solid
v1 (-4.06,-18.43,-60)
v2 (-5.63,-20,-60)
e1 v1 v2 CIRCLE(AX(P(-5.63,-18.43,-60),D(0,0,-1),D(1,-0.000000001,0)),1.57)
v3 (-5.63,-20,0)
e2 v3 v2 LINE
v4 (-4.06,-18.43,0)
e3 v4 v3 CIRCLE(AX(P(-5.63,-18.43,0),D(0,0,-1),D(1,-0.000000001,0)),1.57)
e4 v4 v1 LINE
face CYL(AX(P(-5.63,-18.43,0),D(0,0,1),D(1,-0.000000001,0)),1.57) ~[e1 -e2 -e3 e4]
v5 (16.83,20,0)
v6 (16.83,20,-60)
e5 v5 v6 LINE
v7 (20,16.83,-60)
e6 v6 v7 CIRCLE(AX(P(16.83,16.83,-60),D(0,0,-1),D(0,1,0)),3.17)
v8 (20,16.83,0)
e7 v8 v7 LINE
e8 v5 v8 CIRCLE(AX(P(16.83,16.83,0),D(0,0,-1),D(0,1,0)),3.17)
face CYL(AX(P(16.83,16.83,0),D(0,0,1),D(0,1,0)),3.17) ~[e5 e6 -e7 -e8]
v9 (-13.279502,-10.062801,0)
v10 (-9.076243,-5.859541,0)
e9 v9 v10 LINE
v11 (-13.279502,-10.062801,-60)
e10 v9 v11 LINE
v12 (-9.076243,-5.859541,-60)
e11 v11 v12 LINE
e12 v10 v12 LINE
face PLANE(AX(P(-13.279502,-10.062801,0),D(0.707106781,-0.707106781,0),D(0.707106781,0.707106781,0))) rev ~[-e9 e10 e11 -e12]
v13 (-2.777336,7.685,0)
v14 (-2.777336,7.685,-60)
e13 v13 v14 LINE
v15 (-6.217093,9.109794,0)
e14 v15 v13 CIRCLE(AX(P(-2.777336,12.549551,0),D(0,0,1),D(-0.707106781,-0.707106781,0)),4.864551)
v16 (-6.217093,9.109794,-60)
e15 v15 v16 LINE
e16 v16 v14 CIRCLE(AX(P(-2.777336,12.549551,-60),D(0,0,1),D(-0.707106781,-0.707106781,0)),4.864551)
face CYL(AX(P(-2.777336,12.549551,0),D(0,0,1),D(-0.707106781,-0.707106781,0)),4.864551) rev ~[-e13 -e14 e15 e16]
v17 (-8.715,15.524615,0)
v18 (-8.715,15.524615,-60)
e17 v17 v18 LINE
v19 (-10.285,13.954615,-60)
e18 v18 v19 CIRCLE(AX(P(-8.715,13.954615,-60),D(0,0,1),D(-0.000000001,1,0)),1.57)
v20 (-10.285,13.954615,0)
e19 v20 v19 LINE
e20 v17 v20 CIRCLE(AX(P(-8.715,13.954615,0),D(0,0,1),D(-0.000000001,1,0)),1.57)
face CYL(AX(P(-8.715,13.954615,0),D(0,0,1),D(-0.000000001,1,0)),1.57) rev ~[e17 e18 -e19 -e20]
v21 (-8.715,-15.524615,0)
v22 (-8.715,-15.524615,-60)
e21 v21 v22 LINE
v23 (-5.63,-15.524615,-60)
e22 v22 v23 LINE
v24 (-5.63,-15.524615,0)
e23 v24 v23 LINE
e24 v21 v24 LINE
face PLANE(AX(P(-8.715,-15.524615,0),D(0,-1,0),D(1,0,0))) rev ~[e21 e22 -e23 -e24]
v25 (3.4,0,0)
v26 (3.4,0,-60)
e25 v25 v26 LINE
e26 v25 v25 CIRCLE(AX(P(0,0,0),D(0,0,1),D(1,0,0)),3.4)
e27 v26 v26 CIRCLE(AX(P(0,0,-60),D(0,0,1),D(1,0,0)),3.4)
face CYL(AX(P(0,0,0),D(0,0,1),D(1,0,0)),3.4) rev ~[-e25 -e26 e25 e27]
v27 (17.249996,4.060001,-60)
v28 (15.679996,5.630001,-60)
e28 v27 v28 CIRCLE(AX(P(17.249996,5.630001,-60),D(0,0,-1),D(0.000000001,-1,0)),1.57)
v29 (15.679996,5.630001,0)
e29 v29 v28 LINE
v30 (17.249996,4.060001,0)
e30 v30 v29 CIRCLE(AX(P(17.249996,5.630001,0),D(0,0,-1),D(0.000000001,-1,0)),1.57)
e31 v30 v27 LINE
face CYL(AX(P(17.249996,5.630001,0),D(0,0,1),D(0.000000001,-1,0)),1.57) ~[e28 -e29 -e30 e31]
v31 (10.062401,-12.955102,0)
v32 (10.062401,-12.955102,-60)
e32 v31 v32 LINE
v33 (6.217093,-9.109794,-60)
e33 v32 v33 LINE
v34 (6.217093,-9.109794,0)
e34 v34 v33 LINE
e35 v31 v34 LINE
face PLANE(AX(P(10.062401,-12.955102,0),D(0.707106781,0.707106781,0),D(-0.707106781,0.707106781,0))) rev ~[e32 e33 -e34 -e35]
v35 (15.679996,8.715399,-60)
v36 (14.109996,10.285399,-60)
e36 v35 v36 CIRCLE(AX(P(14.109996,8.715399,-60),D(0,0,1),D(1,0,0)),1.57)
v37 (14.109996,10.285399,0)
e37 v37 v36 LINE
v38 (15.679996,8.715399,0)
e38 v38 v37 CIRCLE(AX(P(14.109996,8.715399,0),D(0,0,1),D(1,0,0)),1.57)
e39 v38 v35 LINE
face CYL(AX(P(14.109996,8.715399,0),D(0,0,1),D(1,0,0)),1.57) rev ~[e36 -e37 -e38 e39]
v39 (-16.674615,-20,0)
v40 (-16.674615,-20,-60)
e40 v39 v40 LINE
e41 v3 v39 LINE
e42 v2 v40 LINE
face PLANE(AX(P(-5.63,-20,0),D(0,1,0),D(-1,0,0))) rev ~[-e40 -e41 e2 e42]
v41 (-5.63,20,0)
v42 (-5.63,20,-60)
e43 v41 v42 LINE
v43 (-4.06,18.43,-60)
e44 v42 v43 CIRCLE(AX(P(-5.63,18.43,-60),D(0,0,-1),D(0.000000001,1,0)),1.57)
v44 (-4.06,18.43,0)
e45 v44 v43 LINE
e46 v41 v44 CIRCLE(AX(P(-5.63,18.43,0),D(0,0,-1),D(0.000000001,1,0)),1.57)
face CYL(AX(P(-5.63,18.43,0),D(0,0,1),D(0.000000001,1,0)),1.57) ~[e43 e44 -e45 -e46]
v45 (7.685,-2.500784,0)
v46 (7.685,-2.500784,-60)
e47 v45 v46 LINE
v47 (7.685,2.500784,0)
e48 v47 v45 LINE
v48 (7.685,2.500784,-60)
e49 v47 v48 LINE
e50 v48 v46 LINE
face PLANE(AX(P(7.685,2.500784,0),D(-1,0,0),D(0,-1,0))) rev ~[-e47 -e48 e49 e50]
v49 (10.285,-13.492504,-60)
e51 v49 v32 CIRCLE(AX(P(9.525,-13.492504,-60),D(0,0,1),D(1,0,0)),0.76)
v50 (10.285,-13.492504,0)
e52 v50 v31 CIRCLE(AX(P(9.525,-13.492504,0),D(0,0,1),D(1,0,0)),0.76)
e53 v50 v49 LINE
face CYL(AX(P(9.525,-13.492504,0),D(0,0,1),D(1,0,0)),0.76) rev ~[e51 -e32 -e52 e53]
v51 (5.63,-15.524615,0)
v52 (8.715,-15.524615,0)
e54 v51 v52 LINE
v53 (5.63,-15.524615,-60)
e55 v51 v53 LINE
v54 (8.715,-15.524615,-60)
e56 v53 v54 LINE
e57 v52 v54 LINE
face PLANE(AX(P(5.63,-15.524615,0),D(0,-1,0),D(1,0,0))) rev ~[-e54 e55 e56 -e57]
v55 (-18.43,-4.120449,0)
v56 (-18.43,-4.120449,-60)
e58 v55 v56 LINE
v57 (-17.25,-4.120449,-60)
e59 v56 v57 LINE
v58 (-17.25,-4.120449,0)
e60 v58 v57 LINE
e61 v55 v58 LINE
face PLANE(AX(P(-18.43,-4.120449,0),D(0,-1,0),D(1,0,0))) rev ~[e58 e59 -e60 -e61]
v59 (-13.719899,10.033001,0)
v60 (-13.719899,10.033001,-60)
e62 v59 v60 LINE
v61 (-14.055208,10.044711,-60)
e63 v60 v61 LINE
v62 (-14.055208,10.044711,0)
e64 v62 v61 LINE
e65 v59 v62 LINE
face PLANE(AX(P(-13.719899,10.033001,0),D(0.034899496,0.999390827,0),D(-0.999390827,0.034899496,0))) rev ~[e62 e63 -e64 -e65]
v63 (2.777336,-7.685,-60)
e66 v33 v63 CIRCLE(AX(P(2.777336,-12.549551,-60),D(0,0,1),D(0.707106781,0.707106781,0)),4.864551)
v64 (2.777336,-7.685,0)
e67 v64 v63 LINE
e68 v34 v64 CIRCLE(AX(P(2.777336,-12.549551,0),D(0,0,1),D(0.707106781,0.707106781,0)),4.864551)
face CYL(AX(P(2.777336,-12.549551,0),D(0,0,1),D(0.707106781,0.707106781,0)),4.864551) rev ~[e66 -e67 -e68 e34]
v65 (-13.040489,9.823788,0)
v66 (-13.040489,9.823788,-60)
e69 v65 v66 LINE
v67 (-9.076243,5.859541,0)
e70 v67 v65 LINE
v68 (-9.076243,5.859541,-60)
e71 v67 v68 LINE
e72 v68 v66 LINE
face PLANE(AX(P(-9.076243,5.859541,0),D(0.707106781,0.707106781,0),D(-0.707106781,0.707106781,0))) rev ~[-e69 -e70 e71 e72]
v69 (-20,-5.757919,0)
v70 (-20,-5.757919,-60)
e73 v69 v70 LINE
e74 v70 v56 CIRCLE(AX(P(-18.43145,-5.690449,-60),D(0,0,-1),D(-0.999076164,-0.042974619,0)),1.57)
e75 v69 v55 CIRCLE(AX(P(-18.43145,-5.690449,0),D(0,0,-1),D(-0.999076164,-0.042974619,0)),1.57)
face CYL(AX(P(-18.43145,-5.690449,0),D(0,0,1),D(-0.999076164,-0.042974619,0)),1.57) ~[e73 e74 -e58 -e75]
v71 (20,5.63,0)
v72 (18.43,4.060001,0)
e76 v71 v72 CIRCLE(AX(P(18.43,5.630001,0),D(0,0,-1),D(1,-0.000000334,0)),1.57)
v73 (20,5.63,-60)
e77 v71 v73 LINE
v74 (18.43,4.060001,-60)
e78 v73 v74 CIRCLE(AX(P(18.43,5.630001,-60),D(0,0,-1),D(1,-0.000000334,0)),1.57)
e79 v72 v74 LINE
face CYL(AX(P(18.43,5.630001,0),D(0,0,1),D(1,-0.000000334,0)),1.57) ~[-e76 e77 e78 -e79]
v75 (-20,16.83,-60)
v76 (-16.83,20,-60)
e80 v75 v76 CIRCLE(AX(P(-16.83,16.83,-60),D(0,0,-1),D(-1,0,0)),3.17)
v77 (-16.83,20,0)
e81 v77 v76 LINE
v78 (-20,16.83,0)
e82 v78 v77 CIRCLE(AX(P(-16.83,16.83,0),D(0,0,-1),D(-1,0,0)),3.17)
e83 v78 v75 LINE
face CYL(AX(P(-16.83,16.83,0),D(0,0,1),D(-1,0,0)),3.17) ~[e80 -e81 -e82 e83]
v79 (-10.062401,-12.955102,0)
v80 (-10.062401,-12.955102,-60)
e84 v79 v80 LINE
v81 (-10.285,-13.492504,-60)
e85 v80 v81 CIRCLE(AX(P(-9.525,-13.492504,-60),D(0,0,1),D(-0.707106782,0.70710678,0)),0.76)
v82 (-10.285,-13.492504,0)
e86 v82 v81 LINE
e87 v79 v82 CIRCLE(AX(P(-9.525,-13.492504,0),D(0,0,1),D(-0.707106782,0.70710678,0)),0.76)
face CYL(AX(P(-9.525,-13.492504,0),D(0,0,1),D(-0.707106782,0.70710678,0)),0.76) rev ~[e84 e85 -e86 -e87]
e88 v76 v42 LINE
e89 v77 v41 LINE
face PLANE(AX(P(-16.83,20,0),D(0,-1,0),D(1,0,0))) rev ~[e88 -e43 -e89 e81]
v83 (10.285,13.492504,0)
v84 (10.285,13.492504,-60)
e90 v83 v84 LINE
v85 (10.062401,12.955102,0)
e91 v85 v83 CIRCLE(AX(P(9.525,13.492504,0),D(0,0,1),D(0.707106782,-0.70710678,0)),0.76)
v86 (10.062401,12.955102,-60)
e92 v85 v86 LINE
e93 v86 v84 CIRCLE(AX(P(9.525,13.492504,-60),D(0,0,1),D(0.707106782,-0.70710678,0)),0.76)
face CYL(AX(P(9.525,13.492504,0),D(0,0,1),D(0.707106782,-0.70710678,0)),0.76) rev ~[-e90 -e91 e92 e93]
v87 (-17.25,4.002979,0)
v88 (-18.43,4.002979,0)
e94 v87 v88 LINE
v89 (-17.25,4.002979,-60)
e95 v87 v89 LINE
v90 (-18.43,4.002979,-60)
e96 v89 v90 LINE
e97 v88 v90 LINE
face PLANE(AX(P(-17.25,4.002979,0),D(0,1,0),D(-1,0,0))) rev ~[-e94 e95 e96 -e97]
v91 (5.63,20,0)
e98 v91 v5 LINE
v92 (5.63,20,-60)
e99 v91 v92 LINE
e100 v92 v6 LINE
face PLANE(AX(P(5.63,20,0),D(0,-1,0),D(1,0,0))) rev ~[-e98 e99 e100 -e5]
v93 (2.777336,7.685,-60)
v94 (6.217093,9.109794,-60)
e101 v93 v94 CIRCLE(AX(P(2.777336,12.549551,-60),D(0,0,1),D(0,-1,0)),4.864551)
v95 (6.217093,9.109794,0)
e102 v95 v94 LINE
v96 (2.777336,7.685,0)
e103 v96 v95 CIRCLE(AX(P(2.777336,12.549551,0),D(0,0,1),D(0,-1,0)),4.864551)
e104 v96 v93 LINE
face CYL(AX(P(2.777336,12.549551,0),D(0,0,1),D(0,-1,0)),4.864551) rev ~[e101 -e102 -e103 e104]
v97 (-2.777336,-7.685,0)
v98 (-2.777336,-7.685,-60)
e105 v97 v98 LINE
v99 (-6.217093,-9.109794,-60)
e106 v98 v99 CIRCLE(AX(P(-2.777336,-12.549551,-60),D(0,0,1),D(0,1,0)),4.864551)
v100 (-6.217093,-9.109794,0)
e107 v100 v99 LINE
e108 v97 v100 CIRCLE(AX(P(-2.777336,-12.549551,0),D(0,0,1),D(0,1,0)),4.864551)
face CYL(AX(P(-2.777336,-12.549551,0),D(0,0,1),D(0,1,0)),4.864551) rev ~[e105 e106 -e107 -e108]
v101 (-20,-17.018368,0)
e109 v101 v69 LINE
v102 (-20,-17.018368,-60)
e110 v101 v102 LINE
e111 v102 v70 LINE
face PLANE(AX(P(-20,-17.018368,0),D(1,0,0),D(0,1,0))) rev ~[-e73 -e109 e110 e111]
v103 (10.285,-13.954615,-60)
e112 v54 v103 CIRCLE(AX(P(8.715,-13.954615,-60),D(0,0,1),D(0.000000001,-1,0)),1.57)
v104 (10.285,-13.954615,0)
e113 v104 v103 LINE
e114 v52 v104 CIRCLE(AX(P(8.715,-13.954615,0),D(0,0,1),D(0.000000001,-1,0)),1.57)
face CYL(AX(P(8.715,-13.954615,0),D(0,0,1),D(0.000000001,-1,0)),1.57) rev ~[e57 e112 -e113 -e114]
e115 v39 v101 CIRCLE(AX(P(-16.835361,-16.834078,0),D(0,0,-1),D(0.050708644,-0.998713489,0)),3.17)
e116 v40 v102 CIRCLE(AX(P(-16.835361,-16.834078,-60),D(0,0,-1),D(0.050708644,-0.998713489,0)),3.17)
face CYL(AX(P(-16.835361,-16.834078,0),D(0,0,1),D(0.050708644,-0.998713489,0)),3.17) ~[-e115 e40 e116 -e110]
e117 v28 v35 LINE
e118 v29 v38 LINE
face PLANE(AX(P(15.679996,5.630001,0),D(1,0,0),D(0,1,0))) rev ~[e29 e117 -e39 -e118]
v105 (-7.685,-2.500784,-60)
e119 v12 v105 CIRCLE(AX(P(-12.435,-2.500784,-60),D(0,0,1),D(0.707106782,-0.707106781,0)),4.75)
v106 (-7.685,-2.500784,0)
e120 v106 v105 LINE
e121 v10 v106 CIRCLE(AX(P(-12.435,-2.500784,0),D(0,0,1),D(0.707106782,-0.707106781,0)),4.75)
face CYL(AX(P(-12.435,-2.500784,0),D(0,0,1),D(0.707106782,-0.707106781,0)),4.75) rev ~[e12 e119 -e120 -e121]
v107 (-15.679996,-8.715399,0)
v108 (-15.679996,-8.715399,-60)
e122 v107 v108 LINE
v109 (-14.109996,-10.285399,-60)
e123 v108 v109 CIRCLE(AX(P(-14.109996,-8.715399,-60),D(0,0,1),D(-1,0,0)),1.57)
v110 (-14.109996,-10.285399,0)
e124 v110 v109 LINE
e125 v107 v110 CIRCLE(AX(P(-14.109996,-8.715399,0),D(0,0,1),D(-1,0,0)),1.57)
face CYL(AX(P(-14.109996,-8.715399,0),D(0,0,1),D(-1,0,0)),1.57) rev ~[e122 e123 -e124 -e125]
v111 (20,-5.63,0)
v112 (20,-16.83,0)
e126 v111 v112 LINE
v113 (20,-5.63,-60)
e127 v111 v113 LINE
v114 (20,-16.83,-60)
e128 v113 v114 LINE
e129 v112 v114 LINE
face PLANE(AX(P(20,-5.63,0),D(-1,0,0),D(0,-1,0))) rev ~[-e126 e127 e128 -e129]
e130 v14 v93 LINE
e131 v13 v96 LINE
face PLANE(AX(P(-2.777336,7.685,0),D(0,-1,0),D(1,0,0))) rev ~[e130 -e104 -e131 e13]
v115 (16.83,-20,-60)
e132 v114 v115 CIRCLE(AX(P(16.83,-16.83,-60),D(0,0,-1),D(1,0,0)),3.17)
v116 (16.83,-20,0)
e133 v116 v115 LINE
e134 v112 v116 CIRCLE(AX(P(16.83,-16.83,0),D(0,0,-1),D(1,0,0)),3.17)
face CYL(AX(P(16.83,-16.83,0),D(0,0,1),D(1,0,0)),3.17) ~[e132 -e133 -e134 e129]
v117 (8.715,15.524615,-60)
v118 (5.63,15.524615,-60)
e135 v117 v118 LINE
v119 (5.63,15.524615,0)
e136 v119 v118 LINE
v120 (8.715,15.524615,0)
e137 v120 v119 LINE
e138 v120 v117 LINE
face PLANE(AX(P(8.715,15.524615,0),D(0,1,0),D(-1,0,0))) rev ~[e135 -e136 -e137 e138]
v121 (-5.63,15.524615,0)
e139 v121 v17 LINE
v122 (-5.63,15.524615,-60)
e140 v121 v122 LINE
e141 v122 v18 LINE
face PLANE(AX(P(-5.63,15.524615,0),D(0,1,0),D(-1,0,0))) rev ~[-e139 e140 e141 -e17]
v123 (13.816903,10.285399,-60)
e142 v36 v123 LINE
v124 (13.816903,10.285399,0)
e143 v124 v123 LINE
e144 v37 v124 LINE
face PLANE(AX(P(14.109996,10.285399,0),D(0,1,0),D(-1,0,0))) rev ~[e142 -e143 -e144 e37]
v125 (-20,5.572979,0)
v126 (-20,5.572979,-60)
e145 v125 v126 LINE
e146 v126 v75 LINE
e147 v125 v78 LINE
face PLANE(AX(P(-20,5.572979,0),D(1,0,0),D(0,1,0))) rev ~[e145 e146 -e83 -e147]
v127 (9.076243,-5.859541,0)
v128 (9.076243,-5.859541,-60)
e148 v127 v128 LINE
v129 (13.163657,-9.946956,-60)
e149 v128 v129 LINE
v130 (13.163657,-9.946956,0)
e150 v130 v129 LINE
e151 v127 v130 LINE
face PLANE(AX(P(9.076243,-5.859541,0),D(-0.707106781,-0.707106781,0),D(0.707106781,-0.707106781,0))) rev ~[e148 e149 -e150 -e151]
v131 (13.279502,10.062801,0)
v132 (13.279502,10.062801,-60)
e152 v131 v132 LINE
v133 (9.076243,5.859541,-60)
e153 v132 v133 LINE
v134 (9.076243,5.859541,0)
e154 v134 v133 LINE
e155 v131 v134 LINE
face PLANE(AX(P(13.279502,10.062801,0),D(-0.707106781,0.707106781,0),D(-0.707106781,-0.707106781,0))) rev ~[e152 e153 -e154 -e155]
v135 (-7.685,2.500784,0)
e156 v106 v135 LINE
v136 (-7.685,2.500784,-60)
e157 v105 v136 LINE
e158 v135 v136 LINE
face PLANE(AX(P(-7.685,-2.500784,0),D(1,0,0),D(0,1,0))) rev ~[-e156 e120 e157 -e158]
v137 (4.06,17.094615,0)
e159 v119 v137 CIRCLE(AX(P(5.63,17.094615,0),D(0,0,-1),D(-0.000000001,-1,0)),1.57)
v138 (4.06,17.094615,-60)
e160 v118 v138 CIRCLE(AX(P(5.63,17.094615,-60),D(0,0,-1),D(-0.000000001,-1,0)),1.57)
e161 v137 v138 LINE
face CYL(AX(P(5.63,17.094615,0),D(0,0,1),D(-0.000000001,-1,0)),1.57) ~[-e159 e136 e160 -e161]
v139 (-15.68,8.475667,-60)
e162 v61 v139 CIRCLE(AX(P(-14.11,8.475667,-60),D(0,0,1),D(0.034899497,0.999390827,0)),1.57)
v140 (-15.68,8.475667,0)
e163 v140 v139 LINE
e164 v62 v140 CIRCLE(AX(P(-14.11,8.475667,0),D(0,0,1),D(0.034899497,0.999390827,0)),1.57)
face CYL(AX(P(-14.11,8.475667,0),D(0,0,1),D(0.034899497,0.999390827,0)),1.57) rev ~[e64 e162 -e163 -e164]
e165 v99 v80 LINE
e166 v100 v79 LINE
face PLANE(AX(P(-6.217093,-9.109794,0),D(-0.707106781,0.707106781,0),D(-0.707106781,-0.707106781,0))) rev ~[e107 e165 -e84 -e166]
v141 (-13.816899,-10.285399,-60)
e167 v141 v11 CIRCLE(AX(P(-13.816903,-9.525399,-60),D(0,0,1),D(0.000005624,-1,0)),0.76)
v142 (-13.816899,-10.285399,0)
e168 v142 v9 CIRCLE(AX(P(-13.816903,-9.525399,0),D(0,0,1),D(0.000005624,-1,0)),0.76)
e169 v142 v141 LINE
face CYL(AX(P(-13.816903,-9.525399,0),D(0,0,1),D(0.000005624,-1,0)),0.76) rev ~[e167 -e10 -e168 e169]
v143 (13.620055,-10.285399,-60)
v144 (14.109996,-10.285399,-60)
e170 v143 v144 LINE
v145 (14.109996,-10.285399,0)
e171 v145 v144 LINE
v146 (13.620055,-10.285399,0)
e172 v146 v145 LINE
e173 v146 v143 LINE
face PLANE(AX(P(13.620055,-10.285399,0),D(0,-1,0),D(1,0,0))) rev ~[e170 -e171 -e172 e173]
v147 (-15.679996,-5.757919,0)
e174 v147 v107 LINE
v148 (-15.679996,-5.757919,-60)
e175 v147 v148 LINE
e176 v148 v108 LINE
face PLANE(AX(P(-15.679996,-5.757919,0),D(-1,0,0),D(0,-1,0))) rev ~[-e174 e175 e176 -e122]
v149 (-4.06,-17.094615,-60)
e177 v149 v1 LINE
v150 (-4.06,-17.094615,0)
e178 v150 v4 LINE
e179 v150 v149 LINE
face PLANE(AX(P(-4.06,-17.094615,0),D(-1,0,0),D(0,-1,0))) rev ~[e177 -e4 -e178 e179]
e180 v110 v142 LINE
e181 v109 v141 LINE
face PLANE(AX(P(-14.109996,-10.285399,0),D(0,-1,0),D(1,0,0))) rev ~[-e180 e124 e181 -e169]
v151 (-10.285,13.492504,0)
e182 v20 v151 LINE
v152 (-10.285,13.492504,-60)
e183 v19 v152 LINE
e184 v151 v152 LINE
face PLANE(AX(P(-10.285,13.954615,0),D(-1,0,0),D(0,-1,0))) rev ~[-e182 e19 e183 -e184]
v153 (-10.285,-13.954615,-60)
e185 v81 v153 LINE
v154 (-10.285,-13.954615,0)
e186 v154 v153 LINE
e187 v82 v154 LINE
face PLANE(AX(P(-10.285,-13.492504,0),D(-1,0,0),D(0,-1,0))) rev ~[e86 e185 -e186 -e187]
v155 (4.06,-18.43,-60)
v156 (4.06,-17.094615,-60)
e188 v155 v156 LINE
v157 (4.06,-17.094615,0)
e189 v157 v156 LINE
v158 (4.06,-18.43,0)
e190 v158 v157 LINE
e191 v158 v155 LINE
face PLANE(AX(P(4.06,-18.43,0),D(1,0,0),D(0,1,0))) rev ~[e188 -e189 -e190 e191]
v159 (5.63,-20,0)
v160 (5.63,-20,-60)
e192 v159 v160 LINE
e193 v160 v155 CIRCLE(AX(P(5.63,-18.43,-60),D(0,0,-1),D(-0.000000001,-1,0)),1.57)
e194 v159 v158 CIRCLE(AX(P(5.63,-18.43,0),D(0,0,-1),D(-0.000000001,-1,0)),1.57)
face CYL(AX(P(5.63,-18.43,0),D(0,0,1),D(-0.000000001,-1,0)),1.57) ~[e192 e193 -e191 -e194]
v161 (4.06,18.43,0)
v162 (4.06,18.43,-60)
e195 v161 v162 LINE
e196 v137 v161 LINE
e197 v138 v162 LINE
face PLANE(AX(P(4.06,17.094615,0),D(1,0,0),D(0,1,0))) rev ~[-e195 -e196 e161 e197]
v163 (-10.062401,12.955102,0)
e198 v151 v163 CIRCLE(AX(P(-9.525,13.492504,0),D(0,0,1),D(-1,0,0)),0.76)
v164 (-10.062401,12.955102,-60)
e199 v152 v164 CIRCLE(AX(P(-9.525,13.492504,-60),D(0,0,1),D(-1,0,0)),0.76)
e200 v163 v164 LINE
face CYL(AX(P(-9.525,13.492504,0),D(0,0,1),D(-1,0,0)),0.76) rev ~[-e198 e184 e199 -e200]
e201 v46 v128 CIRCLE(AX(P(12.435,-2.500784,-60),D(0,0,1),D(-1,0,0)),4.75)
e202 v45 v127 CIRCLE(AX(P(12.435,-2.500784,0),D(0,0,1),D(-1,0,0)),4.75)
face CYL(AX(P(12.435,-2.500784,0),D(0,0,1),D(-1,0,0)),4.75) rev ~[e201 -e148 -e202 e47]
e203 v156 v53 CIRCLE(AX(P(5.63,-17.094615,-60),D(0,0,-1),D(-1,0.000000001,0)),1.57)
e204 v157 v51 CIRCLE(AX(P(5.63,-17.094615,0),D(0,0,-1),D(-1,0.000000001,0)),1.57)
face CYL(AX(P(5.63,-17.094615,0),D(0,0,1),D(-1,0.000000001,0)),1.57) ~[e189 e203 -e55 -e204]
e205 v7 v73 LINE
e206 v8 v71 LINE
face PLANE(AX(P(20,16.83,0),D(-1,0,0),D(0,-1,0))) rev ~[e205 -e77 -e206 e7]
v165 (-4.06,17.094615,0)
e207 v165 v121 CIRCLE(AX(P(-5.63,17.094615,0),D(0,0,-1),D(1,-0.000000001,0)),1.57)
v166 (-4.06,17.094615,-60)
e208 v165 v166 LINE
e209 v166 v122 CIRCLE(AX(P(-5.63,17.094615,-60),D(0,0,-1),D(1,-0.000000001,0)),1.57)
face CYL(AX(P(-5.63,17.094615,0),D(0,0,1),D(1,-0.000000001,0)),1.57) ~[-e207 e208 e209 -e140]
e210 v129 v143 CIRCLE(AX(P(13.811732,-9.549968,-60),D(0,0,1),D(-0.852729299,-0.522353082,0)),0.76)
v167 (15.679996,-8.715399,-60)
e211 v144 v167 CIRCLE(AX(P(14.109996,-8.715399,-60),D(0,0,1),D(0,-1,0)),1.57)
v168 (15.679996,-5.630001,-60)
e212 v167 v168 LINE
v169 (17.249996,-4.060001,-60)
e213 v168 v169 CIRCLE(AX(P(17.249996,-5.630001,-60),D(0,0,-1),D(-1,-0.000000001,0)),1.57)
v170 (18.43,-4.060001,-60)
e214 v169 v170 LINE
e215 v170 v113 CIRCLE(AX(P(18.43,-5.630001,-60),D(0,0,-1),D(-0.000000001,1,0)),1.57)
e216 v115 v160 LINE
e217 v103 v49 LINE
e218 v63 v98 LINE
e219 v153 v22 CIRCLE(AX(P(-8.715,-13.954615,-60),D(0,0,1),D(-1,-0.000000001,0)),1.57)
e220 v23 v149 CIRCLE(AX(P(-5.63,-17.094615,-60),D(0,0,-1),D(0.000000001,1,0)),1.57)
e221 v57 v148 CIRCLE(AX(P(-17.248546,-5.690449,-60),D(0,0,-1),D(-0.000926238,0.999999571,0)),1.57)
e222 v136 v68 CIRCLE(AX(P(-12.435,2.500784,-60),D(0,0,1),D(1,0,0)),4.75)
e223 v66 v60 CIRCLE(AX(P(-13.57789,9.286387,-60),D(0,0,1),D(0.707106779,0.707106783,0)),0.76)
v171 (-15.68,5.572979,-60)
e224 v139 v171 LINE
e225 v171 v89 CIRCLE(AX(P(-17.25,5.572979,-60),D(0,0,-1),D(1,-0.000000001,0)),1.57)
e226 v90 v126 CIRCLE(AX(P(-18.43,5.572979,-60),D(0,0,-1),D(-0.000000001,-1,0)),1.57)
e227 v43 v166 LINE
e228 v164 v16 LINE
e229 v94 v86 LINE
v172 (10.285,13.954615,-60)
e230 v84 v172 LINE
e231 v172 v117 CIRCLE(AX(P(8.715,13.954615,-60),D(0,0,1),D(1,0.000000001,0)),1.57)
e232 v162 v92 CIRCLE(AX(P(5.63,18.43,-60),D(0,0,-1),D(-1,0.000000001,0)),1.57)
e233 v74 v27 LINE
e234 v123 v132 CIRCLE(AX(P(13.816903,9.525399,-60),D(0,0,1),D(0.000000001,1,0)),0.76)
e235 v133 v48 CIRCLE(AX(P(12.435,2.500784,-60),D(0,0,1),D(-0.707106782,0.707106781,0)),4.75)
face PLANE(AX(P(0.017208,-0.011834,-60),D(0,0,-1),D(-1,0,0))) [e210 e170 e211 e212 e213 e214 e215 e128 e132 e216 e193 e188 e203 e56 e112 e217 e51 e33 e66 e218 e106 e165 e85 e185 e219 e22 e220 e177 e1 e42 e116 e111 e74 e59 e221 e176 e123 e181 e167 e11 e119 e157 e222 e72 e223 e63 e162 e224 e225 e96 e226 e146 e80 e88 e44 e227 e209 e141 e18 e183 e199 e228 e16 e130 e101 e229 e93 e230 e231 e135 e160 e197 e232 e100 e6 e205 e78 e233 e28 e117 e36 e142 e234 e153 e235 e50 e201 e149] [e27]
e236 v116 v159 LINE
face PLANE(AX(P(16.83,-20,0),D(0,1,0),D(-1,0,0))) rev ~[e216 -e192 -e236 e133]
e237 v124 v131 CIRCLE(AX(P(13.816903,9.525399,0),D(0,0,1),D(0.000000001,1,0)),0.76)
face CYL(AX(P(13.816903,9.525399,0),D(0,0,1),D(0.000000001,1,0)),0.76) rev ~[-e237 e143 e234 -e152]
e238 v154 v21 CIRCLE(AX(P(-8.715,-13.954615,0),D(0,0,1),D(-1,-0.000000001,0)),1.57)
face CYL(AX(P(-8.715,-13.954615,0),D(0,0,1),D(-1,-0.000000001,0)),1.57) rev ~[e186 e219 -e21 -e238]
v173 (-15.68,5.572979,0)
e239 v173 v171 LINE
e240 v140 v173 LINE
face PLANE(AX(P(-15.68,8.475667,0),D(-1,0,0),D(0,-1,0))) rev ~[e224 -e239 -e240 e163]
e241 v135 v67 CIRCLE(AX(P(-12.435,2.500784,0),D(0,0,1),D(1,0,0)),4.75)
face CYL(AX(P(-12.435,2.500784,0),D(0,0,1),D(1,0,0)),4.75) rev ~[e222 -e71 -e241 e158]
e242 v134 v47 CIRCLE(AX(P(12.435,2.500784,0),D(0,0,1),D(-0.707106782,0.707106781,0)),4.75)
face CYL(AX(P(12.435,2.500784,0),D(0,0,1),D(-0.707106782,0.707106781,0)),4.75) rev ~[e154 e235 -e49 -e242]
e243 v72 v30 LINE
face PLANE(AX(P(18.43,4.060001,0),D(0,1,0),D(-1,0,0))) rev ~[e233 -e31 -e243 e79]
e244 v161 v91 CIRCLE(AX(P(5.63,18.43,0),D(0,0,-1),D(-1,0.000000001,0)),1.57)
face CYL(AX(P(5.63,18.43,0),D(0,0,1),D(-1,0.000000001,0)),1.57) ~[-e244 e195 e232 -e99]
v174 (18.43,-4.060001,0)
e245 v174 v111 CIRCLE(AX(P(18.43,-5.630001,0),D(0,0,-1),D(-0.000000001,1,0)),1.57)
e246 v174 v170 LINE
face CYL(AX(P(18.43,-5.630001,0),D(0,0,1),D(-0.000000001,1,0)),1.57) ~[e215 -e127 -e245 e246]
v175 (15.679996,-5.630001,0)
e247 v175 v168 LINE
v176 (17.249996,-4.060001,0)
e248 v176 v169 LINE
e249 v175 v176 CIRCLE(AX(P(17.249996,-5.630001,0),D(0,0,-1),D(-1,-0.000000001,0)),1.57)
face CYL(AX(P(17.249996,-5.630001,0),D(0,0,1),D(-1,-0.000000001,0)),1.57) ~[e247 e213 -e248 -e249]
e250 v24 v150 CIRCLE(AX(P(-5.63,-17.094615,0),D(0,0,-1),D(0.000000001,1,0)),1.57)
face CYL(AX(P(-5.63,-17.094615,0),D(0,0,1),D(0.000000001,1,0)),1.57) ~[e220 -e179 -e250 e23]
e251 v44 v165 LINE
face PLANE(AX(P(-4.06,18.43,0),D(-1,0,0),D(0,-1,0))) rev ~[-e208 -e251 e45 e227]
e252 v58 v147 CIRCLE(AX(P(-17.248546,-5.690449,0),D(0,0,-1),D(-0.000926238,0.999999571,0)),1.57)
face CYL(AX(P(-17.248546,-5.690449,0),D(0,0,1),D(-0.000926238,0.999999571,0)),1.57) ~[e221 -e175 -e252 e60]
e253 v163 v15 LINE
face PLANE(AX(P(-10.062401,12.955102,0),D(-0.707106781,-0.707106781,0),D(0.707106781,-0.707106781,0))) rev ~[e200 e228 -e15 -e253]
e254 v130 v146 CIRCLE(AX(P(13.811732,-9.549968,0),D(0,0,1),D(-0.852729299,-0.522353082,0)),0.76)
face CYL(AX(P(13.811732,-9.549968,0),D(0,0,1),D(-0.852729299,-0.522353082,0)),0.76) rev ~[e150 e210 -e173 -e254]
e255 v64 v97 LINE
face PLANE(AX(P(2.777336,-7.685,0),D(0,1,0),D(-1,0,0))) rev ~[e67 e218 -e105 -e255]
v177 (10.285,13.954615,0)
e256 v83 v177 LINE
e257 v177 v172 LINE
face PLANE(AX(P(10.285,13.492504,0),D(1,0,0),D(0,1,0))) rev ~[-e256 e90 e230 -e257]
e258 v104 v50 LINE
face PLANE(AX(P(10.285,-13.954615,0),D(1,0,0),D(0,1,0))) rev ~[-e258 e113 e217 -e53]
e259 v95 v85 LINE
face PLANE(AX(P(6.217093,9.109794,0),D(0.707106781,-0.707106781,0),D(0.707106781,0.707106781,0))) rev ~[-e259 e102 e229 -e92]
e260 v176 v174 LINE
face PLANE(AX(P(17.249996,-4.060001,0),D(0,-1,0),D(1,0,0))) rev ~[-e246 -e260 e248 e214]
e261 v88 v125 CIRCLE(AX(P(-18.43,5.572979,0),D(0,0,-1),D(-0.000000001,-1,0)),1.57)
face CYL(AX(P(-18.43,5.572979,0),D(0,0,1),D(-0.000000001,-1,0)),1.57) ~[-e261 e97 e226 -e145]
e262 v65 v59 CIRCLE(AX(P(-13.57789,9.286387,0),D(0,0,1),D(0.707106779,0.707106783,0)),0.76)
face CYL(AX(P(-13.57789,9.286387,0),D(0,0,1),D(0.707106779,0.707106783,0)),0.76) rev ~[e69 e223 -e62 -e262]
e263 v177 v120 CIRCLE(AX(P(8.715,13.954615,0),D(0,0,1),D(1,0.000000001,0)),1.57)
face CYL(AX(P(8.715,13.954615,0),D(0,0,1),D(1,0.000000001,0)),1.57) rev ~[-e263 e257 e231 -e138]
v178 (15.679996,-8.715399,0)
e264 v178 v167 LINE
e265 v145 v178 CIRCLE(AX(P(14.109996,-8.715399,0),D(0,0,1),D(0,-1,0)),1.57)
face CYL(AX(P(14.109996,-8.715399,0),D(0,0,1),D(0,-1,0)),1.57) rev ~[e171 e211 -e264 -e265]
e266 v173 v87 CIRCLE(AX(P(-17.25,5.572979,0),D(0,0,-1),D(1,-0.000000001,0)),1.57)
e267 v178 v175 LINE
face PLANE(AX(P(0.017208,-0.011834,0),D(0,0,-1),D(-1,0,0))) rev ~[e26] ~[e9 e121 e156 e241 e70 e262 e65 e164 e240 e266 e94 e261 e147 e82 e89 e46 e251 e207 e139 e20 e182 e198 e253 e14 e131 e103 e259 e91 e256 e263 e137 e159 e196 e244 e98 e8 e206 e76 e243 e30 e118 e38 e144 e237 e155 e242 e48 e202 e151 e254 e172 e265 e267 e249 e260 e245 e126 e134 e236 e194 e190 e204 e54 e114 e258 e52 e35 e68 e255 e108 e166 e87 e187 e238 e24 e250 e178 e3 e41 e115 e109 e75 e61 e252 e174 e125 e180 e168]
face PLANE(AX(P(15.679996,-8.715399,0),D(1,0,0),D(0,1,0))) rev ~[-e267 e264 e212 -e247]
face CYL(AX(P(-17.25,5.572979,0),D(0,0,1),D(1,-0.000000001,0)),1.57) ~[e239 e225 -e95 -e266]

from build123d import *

# Parameters (mm, degrees)
SKETCH1_R      = 3.4
EXTRUDE1_DEPTH = 60


with BuildPart() as part:
    # Sketch1 → Extrude1 (new body)
    with BuildSketch(Plane.XY):
        with BuildLine():
            Line((-8.715, -15.524615034), (-5.63, -15.524615034))
            ThreePointArc((-5.63, -15.524615034), (-4.519842354, -15.984457388), (-4.06, -17.094615034))
            Line((-4.06, -17.094615034), (-4.06, -18.43))
            ThreePointArc((-4.06, -18.43), (-4.519842354, -19.540157646), (-5.63, -20))
            Line((-5.63, -20), (-16.674615034, -20))
            ThreePointArc((-16.674615034, -20), (-18.951578385, -19.194274381), (-20, -17.018368134))
            Line((-20, -17.018368134), (-20, -5.757918808))
            ThreePointArc((-20, -5.757918808), (-19.564709668, -4.603883664), (-18.43, -4.120449326))
            Line((-18.43, -4.120449326), (-17.25, -4.120449326))
            ThreePointArc((-17.25, -4.120449326), (-16.115287682, -4.60388249), (-15.67999625, -5.757919334))
            Line((-15.67999625, -5.757919334), (-15.67999625, -8.715399492))
            ThreePointArc((-15.67999625, -8.715399492), (-15.220153896, -9.825557139), (-14.10999625, -10.285399492))
            Line((-14.10999625, -10.285399492), (-13.816898819, -10.285399492))
            ThreePointArc((-13.816898819, -10.285399492), (-13.526061711, -10.227547119), (-13.279501941, -10.062800646))
            Line((-13.279501941, -10.062800646), (-9.076242789, -5.859541495))
            ThreePointArc((-9.076242789, -5.859541495), (-8.046572221, -4.318530588), (-7.685, -2.500784284))
            Line((-7.685, -2.500784284), (-7.685, 2.500784284))
            ThreePointArc((-7.685, 2.500784284), (-8.046572221, 4.318530588), (-9.076242789, 5.859541495))
            Line((-9.076242789, 5.859541495), (-13.040489136, 9.823787841))
            ThreePointArc((-13.040489136, 9.823787841), (-13.354224618, 10.012729352), (-13.71989919, 10.033001362))
            Line((-13.71989919, 10.033001362), (-14.05520779, 10.044710596))
            ThreePointArc((-14.05520779, 10.044710596), (-15.200613642, 9.605030484), (-15.68, 8.475666998))
            Line((-15.68, 8.475666998), (-15.68, 5.572979049))
            ThreePointArc((-15.68, 5.572979049), (-16.139842354, 4.462821403), (-17.25, 4.002979049))
            Line((-17.25, 4.002979049), (-18.43, 4.002979049))
            ThreePointArc((-18.43, 4.002979049), (-19.540157646, 4.462821403), (-20, 5.572979049))
            Line((-20, 5.572979049), (-20, 13.004526564))
            Line((-20, 13.004526564), (-20, 16.83))
            ThreePointArc((-20, 16.83), (-19.071528496, 19.071528496), (-16.83, 20))
            Line((-16.83, 20), (-5.63, 20))
            ThreePointArc((-5.63, 20), (-4.519842354, 19.540157646), (-4.06, 18.43))
            Line((-4.06, 18.43), (-4.06, 17.094615034))
            ThreePointArc((-4.06, 17.094615034), (-4.519842354, 15.984457388), (-5.63, 15.524615034))
            Line((-5.63, 15.524615034), (-8.715, 15.524615034))
            ThreePointArc((-8.715, 15.524615034), (-9.825157646, 15.06477268), (-10.285, 13.954615034))
            Line((-10.285, 13.954615034), (-10.285, 13.492503602))
            ThreePointArc((-10.285, 13.492503602), (-10.227148445, 13.201664194), (-10.062401154, 12.955102448))
            Line((-10.062401154, 12.955102448), (-6.217092793, 9.109794088))
            ThreePointArc((-6.217092793, 9.109794088), (-4.63891877, 8.055291919), (-2.777335583, 7.685))
            Line((-2.777335583, 7.685), (2.777335583, 7.685))
            ThreePointArc((2.777335583, 7.685), (4.63891877, 8.055291919), (6.217092793, 9.109794088))
            Line((6.217092793, 9.109794088), (10.062401154, 12.955102448))
            ThreePointArc((10.062401154, 12.955102448), (10.227148445, 13.201664194), (10.285, 13.492503602))
            Line((10.285, 13.492503602), (10.285, 13.954615034))
            ThreePointArc((10.285, 13.954615034), (9.825157646, 15.06477268), (8.715, 15.524615034))
            Line((8.715, 15.524615034), (5.63, 15.524615034))
            ThreePointArc((5.63, 15.524615034), (4.519842354, 15.984457388), (4.06, 17.094615034))
            Line((4.06, 17.094615034), (4.06, 18.43))
            ThreePointArc((4.06, 18.43), (4.519842354, 19.540157646), (5.63, 20))
            Line((5.63, 20), (12.979635074, 20))
            Line((12.979635074, 20), (16.83, 20))
            ThreePointArc((16.83, 20), (19.071528496, 19.071528496), (20, 16.83))
            Line((20, 16.83), (20, 13.001098436))
            Line((20, 13.001098436), (20, 5.63))
            ThreePointArc((20, 5.63), (19.540157461, 4.519842693), (18.43, 4.060000526))
            Line((18.43, 4.060000526), (17.24999625, 4.060000526))
            ThreePointArc((17.24999625, 4.060000526), (16.139838603, 4.519842879), (15.67999625, 5.630000526))
            Line((15.67999625, 5.630000526), (15.67999625, 8.715399492))
            ThreePointArc((15.67999625, 8.715399492), (15.220153896, 9.825557139), (14.10999625, 10.285399492))
            Line((14.10999625, 10.285399492), (13.816903094, 10.285399492))
            ThreePointArc((13.816903094, 10.285399492), (13.526063686, 10.227547937), (13.279501941, 10.062800646))
            Line((13.279501941, 10.062800646), (9.076242789, 5.859541495))
            ThreePointArc((9.076242789, 5.859541495), (8.046572221, 4.318530588), (7.685, 2.500784284))
            Line((7.685, 2.500784284), (7.685, -2.500784284))
            ThreePointArc((7.685, -2.500784284), (8.046572221, -4.318530588), (9.076242789, -5.859541495))
            Line((9.076242789, -5.859541495), (13.163657296, -9.946956002))
            ThreePointArc((13.163657296, -9.946956002), (13.35903797, -10.160433474), (13.6200547, -10.285399492))
            Line((13.6200547, -10.285399492), (14.10999625, -10.285399492))
            ThreePointArc((14.10999625, -10.285399492), (15.220153896, -9.825557139), (15.67999625, -8.715399492))
            Line((15.67999625, -8.715399492), (15.67999625, -5.630000526))
            ThreePointArc((15.67999625, -5.630000526), (16.139838603, -4.519842879), (17.24999625, -4.060000526))
            Line((17.24999625, -4.060000526), (18.43, -4.060000526))
            ThreePointArc((18.43, -4.060000526), (19.540157461, -4.519842693), (20, -5.63))
            Line((20, -5.63), (20, -16.83))
            ThreePointArc((20, -16.83), (19.071528496, -19.071528496), (16.83, -20))
            Line((16.83, -20), (13, -20))
            Line((13, -20), (5.63, -20))
            ThreePointArc((5.63, -20), (4.519842354, -19.540157646), (4.06, -18.43))
            Line((4.06, -18.43), (4.06, -17.094615034))
            ThreePointArc((4.06, -17.094615034), (4.519842354, -15.984457388), (5.63, -15.524615034))
            Line((5.63, -15.524615034), (8.715, -15.524615034))
            ThreePointArc((8.715, -15.524615034), (9.825157646, -15.06477268), (10.285, -13.954615034))
            Line((10.285, -13.954615034), (10.285, -13.492503602))
            ThreePointArc((10.285, -13.492503602), (10.227148445, -13.201664194), (10.062401154, -12.955102448))
            Line((10.062401154, -12.955102448), (6.217092793, -9.109794088))
            ThreePointArc((6.217092793, -9.109794088), (4.63891877, -8.055291919), (2.777335583, -7.685))
            Line((2.777335583, -7.685), (-2.777335583, -7.685))
            ThreePointArc((-2.777335583, -7.685), (-4.63891877, -8.055291919), (-6.217092793, -9.109794088))
            Line((-6.217092793, -9.109794088), (-10.062401154, -12.955102448))
            ThreePointArc((-10.062401154, -12.955102448), (-10.227148445, -13.201664194), (-10.285, -13.492503602))
            Line((-10.285, -13.492503602), (-10.285, -13.954615034))
            ThreePointArc((-10.285, -13.954615034), (-9.825157646, -15.06477268), (-8.715, -15.524615034))
        make_face()
        Circle(SKETCH1_R, mode=Mode.SUBTRACT)
    extrude(amount=-EXTRUDE1_DEPTH)


solid = part.part
